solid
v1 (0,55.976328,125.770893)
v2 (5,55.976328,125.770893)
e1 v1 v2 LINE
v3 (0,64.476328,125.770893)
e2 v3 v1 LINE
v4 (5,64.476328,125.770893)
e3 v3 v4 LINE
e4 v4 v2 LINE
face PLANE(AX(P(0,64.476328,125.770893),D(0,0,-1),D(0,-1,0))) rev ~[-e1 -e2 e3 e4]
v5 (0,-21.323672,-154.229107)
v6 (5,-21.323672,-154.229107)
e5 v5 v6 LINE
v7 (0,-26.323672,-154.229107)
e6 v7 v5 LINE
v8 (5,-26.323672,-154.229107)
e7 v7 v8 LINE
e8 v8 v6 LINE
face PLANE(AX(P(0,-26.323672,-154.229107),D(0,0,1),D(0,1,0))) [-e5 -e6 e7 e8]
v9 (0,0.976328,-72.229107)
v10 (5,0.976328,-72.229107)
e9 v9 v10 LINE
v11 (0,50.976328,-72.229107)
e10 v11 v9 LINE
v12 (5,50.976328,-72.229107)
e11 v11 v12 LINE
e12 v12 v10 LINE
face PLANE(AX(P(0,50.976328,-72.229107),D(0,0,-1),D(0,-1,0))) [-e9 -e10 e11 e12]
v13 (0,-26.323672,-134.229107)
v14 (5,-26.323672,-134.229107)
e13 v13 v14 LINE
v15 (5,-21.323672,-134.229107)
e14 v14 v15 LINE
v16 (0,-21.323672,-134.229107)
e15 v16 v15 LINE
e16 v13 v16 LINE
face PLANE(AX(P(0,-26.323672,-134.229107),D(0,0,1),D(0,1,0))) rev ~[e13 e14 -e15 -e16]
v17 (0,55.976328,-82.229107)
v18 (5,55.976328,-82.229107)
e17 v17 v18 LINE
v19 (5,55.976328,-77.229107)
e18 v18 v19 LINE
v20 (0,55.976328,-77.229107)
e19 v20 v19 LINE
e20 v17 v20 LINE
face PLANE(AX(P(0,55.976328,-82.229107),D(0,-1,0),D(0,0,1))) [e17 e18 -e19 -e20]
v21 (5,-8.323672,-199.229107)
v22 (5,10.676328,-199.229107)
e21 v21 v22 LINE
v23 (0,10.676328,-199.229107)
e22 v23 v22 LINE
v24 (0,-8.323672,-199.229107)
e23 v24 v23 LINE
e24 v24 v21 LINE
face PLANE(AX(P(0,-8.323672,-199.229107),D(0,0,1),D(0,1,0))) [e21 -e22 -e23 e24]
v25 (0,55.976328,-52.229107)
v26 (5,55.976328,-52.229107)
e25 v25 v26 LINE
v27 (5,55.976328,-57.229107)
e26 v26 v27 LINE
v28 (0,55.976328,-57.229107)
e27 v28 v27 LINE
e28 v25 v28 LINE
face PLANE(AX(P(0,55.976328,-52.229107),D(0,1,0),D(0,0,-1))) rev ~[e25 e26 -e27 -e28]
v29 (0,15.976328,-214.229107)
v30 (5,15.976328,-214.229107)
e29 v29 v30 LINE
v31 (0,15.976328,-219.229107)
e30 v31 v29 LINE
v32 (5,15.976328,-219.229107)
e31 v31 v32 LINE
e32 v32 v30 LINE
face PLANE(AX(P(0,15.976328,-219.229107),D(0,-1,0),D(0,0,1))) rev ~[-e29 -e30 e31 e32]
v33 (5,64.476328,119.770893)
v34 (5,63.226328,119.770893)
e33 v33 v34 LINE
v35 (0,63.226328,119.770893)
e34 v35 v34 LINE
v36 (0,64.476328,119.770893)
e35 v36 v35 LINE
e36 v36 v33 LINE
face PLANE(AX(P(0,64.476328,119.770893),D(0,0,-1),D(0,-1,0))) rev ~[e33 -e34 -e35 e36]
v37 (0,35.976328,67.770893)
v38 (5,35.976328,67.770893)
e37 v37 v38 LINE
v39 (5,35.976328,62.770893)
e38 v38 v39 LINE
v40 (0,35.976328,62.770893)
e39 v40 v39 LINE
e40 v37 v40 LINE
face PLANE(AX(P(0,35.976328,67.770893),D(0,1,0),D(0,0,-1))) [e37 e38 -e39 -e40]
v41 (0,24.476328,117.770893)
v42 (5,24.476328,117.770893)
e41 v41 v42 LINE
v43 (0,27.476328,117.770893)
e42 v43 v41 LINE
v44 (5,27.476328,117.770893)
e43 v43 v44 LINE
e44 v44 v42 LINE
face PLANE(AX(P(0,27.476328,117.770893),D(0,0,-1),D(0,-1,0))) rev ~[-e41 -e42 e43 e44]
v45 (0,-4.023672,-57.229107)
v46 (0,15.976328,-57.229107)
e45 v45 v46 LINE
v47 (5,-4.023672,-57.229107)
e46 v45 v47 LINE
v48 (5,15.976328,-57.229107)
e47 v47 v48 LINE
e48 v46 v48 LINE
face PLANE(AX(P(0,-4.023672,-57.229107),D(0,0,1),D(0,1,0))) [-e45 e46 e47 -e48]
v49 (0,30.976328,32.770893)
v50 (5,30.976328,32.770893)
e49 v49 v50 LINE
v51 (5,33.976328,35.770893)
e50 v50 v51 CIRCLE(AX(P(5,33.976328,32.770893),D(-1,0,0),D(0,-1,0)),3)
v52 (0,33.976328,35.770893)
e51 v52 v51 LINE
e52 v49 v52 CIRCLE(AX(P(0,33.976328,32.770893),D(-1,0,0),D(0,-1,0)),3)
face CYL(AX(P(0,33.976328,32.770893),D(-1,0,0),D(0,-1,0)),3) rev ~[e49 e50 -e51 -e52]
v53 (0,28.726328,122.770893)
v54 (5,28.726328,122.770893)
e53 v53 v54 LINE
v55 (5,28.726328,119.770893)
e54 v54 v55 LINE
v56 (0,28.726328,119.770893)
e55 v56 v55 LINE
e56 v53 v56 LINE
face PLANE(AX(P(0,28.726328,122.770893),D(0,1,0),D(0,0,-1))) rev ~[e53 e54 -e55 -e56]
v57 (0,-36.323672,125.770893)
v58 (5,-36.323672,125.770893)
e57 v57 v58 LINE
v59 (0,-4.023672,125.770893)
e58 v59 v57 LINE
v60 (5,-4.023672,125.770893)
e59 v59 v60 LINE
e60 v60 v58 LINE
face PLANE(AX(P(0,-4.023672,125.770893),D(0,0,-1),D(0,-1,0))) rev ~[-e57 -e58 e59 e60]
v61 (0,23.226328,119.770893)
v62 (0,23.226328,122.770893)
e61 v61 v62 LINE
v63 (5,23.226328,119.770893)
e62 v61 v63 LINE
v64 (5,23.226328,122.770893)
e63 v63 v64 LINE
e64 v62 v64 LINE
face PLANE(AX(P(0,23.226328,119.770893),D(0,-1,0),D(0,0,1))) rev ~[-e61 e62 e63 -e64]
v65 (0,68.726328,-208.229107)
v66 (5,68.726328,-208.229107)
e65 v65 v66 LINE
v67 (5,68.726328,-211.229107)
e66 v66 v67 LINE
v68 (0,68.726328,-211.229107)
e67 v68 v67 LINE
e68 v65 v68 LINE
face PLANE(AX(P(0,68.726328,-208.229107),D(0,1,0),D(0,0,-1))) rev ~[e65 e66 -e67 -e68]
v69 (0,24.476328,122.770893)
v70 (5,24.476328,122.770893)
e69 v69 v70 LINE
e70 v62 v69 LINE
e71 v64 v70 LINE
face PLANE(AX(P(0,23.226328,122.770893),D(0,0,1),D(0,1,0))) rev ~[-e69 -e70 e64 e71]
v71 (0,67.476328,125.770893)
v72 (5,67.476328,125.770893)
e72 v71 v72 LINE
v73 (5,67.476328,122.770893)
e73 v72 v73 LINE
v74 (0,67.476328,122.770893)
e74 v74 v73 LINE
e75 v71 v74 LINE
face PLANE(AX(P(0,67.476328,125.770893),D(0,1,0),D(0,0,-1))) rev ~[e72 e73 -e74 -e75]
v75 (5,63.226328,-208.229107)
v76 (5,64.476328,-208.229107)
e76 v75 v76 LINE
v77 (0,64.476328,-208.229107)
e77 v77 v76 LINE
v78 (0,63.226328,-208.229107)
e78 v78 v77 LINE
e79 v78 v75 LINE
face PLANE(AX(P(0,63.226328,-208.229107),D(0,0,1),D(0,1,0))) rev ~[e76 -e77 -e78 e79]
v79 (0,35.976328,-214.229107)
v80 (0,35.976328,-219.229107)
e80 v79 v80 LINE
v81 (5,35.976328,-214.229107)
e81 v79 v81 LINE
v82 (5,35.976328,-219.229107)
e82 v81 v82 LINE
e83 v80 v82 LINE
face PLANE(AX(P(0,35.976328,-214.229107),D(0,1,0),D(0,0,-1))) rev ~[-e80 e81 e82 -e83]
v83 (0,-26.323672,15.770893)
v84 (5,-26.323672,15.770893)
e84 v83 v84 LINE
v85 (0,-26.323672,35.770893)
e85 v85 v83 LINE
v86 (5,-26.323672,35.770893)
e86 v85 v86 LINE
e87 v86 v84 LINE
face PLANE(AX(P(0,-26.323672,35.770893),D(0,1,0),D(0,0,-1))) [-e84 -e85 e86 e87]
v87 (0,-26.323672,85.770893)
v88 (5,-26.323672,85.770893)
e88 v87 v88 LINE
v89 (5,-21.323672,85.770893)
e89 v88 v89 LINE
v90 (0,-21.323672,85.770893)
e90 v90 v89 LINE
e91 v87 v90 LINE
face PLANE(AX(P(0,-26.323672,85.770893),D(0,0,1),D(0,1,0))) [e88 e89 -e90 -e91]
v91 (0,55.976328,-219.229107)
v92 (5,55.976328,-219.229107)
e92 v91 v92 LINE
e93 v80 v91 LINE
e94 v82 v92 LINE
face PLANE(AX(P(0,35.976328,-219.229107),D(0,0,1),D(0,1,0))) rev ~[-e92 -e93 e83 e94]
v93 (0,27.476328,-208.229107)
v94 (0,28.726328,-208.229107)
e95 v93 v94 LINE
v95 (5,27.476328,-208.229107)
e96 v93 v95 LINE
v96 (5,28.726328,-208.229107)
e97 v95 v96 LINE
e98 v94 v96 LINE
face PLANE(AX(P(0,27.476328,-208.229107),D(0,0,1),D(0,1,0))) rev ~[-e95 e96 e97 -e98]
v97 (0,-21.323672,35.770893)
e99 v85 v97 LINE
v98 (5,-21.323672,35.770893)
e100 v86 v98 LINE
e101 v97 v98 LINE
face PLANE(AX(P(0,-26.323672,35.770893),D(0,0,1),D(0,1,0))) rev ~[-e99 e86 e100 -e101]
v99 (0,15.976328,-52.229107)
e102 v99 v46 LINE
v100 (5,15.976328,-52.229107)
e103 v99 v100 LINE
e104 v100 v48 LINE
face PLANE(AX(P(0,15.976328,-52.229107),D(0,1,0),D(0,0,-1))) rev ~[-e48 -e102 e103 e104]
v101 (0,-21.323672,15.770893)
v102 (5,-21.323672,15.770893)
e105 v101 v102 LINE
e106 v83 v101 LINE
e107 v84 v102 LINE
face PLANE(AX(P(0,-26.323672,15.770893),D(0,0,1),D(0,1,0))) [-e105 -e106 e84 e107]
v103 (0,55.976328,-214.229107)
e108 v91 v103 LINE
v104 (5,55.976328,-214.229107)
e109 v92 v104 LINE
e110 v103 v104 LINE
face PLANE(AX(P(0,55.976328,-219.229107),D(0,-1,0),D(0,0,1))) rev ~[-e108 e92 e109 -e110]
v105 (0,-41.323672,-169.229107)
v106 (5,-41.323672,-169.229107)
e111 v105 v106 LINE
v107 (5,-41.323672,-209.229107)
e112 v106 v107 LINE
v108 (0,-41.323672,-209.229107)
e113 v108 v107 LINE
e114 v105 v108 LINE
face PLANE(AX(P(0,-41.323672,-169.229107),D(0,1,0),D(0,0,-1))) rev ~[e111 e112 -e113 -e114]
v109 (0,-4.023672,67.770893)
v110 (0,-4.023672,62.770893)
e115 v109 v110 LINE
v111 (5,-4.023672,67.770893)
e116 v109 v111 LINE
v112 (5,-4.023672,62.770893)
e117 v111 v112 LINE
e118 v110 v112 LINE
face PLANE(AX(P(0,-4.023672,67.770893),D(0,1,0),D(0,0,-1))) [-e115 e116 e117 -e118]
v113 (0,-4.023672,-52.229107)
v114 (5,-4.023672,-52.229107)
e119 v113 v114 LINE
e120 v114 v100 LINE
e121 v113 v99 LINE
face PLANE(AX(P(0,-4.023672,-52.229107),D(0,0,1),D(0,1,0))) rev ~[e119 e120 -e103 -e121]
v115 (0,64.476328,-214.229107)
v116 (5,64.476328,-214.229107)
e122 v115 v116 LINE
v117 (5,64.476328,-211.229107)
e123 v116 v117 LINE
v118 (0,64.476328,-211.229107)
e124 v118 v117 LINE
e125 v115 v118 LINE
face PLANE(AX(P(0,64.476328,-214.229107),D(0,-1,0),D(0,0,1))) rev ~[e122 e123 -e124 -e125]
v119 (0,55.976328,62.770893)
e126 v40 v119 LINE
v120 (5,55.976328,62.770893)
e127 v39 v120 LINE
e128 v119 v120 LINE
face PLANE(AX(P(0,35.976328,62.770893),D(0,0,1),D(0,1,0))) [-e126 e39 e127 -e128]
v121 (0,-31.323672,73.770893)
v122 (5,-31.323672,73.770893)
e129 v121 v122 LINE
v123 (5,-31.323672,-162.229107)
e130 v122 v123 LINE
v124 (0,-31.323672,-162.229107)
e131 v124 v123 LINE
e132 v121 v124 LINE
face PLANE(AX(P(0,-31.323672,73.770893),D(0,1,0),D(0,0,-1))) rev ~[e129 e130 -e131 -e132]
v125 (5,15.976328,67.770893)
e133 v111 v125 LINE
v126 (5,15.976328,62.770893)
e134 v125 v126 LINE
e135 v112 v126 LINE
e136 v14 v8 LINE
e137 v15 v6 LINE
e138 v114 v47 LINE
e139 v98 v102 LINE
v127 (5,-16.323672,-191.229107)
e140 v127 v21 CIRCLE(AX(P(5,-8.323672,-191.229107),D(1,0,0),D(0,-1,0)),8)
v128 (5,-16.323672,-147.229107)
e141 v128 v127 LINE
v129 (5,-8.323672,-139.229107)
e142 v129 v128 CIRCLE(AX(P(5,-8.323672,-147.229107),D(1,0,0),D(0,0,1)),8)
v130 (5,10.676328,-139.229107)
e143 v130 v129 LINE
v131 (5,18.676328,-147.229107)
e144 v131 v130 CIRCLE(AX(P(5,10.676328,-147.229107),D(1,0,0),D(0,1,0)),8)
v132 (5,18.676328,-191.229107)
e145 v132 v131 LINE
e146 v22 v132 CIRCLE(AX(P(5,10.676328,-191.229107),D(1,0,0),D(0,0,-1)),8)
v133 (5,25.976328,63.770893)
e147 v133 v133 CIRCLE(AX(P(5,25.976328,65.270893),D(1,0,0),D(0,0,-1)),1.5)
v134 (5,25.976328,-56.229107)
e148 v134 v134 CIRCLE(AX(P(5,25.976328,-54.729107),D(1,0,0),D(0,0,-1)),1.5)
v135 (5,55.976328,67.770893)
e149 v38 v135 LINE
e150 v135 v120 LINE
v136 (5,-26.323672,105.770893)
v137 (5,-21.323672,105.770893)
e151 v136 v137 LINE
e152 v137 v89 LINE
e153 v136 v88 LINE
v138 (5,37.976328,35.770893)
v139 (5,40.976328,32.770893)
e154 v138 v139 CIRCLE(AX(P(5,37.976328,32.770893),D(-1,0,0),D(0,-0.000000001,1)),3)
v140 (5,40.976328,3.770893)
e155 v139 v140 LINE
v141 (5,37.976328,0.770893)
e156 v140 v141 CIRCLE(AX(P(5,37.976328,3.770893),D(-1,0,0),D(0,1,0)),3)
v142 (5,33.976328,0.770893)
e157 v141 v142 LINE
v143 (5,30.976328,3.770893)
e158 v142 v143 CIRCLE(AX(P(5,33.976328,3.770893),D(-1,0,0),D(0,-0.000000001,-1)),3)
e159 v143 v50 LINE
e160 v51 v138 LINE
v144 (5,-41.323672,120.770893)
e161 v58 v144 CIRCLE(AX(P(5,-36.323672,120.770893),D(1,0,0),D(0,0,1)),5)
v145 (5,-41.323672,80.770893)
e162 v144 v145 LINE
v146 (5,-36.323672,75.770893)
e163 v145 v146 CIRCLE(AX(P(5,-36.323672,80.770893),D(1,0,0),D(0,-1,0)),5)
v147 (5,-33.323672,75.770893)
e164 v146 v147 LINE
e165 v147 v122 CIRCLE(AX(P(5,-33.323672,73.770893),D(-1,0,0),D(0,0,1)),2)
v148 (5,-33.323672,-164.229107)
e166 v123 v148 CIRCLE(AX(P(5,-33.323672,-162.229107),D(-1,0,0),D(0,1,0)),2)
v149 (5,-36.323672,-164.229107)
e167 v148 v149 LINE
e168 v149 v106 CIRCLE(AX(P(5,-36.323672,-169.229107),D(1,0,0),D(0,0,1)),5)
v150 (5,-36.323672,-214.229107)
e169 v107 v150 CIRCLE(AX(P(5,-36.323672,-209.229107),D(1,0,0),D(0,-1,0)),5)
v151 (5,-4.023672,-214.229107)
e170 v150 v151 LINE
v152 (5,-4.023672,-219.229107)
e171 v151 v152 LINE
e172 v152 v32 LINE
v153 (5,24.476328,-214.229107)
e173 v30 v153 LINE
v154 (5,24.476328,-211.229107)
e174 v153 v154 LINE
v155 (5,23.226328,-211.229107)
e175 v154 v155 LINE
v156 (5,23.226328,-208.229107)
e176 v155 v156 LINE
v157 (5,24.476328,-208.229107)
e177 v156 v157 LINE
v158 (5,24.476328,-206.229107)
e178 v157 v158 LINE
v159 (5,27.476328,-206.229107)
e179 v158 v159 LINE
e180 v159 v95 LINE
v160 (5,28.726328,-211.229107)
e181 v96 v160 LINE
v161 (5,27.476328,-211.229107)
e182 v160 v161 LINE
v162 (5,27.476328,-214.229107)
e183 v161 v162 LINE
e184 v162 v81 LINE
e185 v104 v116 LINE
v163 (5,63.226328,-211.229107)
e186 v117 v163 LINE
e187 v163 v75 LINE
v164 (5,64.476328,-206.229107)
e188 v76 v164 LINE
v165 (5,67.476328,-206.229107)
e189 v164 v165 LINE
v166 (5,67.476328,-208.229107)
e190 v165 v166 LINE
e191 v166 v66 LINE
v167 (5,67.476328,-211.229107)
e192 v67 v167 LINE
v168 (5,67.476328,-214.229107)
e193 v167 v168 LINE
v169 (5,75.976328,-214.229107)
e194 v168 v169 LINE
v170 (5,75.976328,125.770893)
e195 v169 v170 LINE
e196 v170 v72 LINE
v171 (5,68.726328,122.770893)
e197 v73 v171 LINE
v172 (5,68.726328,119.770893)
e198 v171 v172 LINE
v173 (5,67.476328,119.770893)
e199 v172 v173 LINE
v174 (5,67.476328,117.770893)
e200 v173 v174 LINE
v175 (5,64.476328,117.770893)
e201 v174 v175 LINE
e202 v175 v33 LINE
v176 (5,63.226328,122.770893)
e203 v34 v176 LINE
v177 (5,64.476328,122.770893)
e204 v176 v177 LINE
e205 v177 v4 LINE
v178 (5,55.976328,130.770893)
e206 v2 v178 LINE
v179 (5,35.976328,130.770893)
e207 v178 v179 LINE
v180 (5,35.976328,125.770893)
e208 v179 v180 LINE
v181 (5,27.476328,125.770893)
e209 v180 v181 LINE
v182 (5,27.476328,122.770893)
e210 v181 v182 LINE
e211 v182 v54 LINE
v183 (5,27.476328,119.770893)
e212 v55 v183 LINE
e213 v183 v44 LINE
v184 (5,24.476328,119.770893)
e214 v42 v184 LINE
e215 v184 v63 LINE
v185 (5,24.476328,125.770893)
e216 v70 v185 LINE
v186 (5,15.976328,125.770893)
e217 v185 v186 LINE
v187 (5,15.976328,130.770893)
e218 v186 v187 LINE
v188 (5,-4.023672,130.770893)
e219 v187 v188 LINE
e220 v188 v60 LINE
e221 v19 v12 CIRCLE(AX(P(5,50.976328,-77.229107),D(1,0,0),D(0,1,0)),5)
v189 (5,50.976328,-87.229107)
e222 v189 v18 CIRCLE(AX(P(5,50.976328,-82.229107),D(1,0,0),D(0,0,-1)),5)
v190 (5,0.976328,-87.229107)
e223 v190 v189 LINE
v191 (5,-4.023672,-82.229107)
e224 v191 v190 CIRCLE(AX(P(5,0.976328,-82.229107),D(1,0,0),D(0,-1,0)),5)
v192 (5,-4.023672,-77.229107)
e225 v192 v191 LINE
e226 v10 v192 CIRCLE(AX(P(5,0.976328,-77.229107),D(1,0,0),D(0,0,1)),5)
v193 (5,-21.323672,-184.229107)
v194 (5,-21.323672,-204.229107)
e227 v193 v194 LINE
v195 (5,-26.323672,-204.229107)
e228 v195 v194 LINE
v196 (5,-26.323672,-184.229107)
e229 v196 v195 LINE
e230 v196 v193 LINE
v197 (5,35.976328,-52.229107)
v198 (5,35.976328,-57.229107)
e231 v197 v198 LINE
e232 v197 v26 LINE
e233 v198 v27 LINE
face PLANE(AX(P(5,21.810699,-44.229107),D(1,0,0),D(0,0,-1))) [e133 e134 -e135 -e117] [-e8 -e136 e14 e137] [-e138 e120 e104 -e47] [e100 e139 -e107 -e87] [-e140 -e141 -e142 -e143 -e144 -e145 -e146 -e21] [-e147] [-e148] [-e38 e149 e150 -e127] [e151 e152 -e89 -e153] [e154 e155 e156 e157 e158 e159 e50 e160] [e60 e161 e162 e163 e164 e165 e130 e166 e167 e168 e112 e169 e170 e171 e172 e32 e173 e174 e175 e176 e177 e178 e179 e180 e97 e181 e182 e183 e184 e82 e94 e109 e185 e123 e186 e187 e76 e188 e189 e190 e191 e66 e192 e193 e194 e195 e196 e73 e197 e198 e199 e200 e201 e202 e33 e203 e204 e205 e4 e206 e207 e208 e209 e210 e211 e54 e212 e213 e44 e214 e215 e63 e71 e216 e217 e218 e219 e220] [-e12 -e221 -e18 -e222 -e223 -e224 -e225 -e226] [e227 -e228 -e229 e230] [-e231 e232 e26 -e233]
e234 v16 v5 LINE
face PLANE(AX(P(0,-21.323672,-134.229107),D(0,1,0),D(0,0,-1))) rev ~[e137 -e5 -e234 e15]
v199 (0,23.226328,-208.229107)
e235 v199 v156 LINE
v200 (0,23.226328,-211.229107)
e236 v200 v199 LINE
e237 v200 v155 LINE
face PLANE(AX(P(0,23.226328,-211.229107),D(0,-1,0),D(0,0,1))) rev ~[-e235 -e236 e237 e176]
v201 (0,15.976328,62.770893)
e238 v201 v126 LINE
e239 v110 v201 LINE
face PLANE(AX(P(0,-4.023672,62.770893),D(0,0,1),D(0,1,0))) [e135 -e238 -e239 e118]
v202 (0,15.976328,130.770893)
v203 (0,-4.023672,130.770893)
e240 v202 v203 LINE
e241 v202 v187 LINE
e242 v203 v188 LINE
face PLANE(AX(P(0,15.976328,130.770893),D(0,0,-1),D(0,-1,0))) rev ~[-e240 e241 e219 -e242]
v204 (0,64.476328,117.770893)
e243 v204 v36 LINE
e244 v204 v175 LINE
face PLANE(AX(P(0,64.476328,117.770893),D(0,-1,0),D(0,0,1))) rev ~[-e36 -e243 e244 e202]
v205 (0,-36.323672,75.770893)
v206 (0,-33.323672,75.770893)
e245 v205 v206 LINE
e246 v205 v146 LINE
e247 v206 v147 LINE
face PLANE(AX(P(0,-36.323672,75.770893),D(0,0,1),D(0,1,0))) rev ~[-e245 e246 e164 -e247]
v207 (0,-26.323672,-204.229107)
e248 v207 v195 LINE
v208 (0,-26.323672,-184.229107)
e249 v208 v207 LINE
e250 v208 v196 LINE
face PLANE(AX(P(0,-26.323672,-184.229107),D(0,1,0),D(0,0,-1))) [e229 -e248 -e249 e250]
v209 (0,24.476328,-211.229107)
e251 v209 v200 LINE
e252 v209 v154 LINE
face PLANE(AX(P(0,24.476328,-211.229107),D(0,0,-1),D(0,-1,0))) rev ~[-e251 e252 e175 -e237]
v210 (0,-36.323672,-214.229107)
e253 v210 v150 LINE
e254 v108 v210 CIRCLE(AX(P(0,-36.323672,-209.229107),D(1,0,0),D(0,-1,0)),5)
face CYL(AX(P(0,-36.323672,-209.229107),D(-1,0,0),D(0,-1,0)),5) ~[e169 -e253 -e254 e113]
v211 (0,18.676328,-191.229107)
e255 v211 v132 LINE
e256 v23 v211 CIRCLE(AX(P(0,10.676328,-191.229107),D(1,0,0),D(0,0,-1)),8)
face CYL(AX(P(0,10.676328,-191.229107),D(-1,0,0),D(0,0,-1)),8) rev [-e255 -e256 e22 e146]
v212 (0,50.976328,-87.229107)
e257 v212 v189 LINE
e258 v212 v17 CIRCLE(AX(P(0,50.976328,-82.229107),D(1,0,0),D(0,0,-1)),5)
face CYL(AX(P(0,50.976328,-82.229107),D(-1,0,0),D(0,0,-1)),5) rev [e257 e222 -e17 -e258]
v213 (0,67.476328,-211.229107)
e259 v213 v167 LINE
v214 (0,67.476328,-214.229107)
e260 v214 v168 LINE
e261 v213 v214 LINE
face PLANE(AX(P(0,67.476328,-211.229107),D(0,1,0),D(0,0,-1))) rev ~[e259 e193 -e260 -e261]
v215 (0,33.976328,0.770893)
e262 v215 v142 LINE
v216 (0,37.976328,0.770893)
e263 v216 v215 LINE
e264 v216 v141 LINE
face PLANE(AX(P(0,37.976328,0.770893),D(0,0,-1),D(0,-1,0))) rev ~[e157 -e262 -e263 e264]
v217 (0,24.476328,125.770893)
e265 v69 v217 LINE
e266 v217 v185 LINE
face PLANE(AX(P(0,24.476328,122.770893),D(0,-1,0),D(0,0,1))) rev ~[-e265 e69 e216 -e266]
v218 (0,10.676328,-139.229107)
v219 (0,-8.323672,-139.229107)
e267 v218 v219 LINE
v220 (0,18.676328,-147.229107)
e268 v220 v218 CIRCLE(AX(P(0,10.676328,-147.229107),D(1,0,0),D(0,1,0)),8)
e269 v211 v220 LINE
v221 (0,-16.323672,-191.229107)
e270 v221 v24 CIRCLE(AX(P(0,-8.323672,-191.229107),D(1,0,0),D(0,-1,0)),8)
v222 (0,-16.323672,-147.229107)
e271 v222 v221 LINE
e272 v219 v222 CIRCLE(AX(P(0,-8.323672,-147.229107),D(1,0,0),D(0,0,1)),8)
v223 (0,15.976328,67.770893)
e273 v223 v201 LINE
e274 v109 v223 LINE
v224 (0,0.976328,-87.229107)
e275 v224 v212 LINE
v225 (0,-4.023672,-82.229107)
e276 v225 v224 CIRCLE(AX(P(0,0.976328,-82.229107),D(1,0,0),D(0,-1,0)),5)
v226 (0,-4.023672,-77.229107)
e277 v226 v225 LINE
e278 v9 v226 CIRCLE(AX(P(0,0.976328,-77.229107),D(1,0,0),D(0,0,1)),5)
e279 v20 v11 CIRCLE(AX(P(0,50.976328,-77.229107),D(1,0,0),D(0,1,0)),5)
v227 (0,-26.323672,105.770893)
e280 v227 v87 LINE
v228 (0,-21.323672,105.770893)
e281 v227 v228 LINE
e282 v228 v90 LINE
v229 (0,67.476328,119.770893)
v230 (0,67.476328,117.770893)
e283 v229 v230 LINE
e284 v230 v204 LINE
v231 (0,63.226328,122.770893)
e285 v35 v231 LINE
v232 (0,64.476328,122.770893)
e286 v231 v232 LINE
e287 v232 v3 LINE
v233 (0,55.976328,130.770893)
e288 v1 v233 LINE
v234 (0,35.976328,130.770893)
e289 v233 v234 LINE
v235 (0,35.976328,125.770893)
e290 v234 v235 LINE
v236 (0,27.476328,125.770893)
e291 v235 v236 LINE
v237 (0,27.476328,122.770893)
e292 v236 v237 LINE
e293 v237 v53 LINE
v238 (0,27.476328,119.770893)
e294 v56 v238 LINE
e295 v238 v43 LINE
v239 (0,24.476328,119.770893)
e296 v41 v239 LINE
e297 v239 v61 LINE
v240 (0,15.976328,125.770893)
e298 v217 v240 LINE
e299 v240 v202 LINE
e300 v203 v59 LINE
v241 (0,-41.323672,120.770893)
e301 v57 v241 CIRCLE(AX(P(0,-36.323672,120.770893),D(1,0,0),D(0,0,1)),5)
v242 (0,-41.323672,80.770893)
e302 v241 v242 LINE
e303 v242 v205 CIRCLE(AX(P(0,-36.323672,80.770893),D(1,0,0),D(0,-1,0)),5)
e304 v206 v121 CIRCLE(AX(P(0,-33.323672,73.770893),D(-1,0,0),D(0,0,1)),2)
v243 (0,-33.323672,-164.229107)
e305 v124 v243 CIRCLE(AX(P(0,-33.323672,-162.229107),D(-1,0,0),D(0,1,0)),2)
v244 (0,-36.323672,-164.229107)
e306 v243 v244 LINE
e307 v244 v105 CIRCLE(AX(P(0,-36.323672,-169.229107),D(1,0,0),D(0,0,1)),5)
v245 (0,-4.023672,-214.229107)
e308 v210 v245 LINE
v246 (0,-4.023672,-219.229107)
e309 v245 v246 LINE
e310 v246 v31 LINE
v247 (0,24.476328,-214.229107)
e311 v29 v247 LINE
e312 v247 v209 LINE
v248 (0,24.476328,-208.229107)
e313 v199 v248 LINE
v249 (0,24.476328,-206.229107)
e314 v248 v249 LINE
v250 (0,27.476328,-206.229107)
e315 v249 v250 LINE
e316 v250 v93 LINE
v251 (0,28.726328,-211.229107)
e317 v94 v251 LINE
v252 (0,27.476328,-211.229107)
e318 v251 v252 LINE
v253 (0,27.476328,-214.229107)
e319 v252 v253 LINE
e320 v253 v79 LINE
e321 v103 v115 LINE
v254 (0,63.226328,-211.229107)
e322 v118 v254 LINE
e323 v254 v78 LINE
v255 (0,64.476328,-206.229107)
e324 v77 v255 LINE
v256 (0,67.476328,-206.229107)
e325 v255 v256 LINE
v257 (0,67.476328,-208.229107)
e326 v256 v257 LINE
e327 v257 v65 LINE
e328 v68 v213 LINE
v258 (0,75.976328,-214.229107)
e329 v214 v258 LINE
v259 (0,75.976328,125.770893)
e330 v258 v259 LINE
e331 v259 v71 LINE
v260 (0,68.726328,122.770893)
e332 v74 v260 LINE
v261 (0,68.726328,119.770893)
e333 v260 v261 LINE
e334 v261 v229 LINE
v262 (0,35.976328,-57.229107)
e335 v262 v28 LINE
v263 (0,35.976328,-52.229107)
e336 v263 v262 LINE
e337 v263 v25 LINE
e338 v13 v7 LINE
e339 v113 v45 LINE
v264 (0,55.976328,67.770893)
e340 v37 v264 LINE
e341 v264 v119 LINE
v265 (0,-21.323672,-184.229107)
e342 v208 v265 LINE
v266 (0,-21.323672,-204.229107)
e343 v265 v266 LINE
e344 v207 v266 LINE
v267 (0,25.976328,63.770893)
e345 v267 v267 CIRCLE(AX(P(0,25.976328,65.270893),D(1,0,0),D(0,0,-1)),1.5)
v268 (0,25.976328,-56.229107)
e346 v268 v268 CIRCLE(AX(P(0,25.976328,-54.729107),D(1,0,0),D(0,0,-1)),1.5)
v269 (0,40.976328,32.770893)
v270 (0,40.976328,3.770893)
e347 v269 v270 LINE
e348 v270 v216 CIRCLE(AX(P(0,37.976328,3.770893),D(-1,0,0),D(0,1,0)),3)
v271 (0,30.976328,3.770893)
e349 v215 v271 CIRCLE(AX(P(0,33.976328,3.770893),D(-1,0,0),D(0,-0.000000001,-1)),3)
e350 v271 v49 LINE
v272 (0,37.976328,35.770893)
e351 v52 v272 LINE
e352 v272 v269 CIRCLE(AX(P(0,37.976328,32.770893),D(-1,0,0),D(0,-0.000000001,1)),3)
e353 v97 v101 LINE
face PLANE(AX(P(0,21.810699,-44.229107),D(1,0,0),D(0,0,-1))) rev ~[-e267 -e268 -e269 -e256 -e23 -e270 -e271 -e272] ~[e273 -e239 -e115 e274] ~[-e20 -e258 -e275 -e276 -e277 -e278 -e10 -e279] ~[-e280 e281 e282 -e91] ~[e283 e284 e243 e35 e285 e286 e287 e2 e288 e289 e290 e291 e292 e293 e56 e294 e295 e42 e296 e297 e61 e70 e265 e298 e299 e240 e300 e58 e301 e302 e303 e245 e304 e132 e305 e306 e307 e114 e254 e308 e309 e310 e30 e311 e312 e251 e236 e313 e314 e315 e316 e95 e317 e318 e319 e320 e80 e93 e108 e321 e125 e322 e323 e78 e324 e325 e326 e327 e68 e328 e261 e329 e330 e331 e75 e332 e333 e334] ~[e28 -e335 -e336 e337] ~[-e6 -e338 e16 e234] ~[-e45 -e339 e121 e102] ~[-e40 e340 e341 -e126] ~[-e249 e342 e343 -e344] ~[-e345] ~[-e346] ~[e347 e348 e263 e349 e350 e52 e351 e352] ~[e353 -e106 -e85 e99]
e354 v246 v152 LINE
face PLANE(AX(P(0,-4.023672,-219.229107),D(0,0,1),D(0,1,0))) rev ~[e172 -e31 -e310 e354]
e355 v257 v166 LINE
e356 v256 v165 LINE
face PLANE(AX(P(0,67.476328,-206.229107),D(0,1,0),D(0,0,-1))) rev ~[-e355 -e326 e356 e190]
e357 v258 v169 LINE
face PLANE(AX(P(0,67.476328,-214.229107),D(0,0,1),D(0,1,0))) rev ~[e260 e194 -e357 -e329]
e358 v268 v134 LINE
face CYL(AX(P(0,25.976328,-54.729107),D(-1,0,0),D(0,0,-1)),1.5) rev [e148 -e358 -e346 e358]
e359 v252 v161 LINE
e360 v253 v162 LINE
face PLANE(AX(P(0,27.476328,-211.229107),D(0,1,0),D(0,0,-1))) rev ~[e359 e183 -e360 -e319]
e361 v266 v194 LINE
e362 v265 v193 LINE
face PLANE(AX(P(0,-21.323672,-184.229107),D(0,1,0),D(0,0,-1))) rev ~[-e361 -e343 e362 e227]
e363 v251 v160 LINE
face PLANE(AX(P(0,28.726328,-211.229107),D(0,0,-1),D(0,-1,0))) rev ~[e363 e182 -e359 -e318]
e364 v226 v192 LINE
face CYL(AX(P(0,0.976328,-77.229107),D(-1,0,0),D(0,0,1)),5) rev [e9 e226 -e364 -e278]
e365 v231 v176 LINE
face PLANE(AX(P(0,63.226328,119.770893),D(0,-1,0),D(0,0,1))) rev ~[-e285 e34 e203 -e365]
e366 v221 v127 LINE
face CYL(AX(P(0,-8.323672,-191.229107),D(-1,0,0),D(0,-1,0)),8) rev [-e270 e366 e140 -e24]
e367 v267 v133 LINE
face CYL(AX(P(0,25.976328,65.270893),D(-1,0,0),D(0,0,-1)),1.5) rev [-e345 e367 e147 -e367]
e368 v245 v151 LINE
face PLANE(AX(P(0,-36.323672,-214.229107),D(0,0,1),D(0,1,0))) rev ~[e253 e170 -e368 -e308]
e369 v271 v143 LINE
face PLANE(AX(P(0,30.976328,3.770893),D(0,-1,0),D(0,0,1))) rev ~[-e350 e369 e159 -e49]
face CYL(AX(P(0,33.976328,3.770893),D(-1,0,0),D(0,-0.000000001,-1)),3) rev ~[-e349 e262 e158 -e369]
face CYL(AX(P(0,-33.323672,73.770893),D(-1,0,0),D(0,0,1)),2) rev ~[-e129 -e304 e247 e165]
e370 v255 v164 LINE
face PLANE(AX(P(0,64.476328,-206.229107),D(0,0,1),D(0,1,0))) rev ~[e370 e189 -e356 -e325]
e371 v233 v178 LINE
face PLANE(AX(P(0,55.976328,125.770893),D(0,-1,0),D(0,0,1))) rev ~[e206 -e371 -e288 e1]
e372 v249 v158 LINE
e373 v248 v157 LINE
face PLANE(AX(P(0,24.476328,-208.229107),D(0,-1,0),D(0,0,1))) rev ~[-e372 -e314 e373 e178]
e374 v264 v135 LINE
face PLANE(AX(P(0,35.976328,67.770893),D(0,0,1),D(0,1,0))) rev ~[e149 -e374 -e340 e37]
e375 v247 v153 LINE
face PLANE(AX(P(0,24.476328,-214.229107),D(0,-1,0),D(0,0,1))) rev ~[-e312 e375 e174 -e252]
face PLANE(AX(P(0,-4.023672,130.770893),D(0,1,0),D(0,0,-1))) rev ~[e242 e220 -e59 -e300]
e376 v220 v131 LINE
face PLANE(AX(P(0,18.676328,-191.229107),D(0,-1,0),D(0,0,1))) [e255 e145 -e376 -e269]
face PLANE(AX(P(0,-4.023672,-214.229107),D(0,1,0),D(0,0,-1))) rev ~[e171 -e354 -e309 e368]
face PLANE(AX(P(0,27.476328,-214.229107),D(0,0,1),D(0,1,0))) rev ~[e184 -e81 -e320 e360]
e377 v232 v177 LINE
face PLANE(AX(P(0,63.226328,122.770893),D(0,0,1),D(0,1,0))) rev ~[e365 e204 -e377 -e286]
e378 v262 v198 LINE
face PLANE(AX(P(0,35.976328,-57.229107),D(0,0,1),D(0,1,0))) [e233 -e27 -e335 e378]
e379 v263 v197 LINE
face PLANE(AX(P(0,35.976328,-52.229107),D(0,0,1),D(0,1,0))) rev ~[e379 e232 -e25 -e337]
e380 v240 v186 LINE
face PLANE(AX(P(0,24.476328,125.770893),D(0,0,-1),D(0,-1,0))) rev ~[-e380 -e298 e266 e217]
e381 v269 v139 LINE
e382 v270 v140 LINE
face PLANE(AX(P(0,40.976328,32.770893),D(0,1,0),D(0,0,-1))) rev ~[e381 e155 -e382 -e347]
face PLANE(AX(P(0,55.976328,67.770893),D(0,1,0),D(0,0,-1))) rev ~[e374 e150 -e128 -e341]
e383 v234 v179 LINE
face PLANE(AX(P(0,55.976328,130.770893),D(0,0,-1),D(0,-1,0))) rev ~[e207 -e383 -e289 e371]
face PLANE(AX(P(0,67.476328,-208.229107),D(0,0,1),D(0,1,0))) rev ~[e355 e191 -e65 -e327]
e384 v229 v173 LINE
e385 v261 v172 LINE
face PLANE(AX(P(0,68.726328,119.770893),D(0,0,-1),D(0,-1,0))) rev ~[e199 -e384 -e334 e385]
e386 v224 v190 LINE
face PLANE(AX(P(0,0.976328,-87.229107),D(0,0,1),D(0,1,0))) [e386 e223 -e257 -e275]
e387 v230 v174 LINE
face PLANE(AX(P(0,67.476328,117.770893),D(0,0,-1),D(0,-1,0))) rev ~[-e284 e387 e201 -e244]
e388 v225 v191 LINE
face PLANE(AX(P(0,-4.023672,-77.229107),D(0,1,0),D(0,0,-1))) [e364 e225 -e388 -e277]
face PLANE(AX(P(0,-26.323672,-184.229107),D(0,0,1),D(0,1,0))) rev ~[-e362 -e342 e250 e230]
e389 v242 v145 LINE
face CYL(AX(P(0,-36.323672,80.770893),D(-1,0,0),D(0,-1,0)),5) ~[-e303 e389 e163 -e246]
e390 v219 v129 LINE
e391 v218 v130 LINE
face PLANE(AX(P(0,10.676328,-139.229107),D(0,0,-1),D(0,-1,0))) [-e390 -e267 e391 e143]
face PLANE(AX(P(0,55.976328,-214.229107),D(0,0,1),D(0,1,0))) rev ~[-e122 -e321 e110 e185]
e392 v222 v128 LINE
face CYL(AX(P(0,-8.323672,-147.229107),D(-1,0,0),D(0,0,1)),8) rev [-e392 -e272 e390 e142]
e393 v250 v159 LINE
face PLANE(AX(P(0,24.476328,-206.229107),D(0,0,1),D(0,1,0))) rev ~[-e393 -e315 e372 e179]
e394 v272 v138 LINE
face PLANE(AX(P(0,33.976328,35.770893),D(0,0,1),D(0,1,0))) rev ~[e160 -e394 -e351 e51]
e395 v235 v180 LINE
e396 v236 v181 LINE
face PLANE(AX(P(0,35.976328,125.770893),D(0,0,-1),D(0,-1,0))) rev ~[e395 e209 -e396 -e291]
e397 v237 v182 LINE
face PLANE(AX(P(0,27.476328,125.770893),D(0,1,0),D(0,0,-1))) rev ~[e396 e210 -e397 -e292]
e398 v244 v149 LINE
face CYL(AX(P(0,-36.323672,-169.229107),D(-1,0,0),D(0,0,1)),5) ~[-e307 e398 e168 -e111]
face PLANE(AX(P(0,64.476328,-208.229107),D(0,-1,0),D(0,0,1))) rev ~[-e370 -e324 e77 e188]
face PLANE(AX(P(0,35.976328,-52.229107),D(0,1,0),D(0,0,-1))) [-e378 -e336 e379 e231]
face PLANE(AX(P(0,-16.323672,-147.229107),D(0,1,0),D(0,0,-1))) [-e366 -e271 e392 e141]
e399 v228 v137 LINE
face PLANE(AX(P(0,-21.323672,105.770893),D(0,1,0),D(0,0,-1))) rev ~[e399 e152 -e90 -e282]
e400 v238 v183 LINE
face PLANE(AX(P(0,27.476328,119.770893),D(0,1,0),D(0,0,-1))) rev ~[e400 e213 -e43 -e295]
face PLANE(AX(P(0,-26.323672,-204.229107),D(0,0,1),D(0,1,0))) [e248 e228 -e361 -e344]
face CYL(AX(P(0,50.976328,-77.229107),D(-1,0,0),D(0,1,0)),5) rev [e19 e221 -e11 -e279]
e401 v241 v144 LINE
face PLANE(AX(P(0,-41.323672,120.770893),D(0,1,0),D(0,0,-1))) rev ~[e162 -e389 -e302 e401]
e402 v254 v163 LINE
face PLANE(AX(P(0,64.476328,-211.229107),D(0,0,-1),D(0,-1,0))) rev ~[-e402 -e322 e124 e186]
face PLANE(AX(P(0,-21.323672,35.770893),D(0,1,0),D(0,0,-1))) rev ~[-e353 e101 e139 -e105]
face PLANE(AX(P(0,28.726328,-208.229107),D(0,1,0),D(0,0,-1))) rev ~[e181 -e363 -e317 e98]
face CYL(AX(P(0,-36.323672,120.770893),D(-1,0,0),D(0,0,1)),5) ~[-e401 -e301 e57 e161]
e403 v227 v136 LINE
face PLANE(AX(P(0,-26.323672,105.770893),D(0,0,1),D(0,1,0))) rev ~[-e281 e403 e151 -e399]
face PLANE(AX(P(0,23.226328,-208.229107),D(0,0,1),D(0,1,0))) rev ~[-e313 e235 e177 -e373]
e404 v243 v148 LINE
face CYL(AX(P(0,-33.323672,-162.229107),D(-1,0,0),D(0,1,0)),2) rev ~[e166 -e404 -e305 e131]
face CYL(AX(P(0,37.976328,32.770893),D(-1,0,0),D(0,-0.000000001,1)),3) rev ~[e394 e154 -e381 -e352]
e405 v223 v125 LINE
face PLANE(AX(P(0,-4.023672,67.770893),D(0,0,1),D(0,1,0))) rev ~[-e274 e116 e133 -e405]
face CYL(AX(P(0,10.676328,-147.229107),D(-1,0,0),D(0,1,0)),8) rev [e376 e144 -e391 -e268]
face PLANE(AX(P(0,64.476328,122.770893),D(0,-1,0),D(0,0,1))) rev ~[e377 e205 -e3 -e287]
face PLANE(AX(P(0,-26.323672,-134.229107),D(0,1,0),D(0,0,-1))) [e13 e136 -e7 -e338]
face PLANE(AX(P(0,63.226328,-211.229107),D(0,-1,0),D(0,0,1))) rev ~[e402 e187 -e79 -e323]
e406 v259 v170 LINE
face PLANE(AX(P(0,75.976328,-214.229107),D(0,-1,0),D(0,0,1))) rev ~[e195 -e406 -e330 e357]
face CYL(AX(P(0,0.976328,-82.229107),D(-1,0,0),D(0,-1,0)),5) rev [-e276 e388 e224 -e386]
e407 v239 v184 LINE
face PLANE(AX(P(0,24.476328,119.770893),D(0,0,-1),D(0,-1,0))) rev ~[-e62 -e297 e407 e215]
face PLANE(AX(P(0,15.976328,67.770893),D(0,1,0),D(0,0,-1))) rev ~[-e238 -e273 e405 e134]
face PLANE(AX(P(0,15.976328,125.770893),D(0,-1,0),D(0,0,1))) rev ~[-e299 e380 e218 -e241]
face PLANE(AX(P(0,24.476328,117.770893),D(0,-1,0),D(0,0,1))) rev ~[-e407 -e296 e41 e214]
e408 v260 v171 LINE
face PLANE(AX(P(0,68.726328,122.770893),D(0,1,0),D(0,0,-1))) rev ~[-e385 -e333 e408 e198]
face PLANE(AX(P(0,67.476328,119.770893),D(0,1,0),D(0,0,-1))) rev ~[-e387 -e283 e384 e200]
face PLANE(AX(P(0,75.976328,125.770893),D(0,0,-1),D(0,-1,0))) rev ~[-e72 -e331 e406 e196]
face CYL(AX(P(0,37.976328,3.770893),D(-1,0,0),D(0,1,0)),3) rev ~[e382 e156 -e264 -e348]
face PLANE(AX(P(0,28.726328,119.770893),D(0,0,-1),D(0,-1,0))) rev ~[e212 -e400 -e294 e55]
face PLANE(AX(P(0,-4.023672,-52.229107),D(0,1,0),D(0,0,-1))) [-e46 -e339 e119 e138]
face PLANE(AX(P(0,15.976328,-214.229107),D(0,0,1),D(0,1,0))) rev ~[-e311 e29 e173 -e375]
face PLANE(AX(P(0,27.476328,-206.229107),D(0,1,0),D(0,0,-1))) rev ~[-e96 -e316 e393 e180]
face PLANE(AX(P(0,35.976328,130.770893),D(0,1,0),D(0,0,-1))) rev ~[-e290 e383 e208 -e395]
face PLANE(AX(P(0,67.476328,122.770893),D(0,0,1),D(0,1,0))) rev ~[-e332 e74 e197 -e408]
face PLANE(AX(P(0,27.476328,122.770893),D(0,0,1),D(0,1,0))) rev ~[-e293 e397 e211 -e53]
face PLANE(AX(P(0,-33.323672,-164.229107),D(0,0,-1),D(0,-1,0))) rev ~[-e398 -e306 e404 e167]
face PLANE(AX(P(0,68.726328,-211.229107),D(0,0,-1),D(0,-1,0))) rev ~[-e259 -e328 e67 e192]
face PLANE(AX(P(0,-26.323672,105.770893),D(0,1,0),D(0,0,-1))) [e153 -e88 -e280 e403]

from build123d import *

# Parameters (mm, degrees)
SKETCH_1_R      = 1.5
SKETCH_1_W      = 5
SKETCH_1_H      = 20
SKETCH_1_W_2    = 20
SKETCH_1_H_2    = 5
EXTRUDE_1_DEPTH = 5


with BuildPart() as part:
    # 草图1 → 凸台-拉伸1 (new body)
    with BuildSketch(Plane(origin=(0, 0, 0), x_dir=(0, 0, -1), z_dir=(1, 0, 0))):
        with BuildLine():
            Line((-75.770893239, -36.323671614), (-75.770893239, -33.323671614))
            ThreePointArc((-75.770893239, -33.323671614), (-75.185106801, -31.909458051), (-73.770893239, -31.323671614))
            Line((-73.770893239, -31.323671614), (162.229106761, -31.323671614))
            ThreePointArc((162.229106761, -31.323671614), (163.643320323, -31.909458051), (164.229106761, -33.323671614))
            Line((164.229106761, -33.323671614), (164.229106761, -36.323671614))
            ThreePointArc((164.229106761, -36.323671614), (165.693572855, -39.85920552), (169.229106761, -41.323671614))
            Line((169.229106761, -41.323671614), (209.229106761, -41.323671614))
            ThreePointArc((209.229106761, -41.323671614), (212.764640667, -39.85920552), (214.229106761, -36.323671614))
            Line((214.229106761, -36.323671614), (214.229106761, -4.023671614))
            Line((214.229106761, -4.023671614), (219.229106761, -4.023671614))
            Line((219.229106761, -4.023671614), (219.229106761, 15.976328386))
            Line((219.229106761, 15.976328386), (214.229106761, 15.976328386))
            Line((214.229106761, 15.976328386), (214.229106761, 24.476328386))
            Line((214.229106761, 24.476328386), (211.229106761, 24.476328386))
            Line((211.229106761, 24.476328386), (211.229106761, 23.226328386))
            Line((211.229106761, 23.226328386), (208.229106761, 23.226328386))
            Line((208.229106761, 23.226328386), (208.229106761, 24.476328386))
            Line((208.229106761, 24.476328386), (206.229106761, 24.476328386))
            Line((206.229106761, 24.476328386), (206.229106761, 27.476328386))
            Line((206.229106761, 27.476328386), (208.229106761, 27.476328386))
            Line((208.229106761, 27.476328386), (208.229106761, 28.726328386))
            Line((208.229106761, 28.726328386), (211.229106761, 28.726328386))
            Line((211.229106761, 28.726328386), (211.229106761, 27.476328386))
            Line((211.229106761, 27.476328386), (214.229106761, 27.476328386))
            Line((214.229106761, 27.476328386), (214.229106761, 35.976328386))
            Line((214.229106761, 35.976328386), (219.229106761, 35.976328386))
            Line((219.229106761, 35.976328386), (219.229106761, 55.976328386))
            Line((219.229106761, 55.976328386), (214.229106761, 55.976328386))
            Line((214.229106761, 55.976328386), (214.229106761, 64.476328386))
            Line((214.229106761, 64.476328386), (211.229106761, 64.476328386))
            Line((211.229106761, 64.476328386), (211.229106761, 63.226328386))
            Line((211.229106761, 63.226328386), (208.229106761, 63.226328386))
            Line((208.229106761, 63.226328386), (208.229106761, 64.476328386))
            Line((208.229106761, 64.476328386), (206.229106761, 64.476328386))
            Line((206.229106761, 64.476328386), (206.229106761, 67.476328386))
            Line((206.229106761, 67.476328386), (208.229106761, 67.476328386))
            Line((208.229106761, 67.476328386), (208.229106761, 68.726328386))
            Line((208.229106761, 68.726328386), (211.229106761, 68.726328386))
            Line((211.229106761, 68.726328386), (211.229106761, 67.476328386))
            Line((211.229106761, 67.476328386), (214.229106761, 67.476328386))
            Line((214.229106761, 67.476328386), (214.229106761, 75.976328386))
            Line((214.229106761, 75.976328386), (-125.770893239, 75.976328386))
            Line((-125.770893239, 75.976328386), (-125.770893239, 67.476328386))
            Line((-125.770893239, 67.476328386), (-122.770893239, 67.476328386))
            Line((-122.770893239, 67.476328386), (-122.770893239, 68.726328386))
            Line((-122.770893239, 68.726328386), (-119.770893239, 68.726328386))
            Line((-119.770893239, 68.726328386), (-119.770893239, 67.476328386))
            Line((-119.770893239, 67.476328386), (-117.770893239, 67.476328386))
            Line((-117.770893239, 67.476328386), (-117.770893239, 64.476328386))
            Line((-117.770893239, 64.476328386), (-119.770893239, 64.476328386))
            Line((-119.770893239, 64.476328386), (-119.770893239, 63.226328386))
            Line((-119.770893239, 63.226328386), (-122.770893239, 63.226328386))
            Line((-122.770893239, 63.226328386), (-122.770893239, 64.476328386))
            Line((-122.770893239, 64.476328386), (-125.770893239, 64.476328386))
            Line((-125.770893239, 64.476328386), (-125.770893239, 55.976328386))
            Line((-125.770893239, 55.976328386), (-130.770893239, 55.976328386))
            Line((-130.770893239, 55.976328386), (-130.770893239, 35.976328386))
            Line((-130.770893239, 35.976328386), (-125.770893239, 35.976328386))
            Line((-125.770893239, 35.976328386), (-125.770893239, 27.476328386))
            Line((-125.770893239, 27.476328386), (-122.770893239, 27.476328386))
            Line((-122.770893239, 27.476328386), (-122.770893239, 28.726328386))
            Line((-122.770893239, 28.726328386), (-119.770893239, 28.726328386))
            Line((-119.770893239, 28.726328386), (-119.770893239, 27.476328386))
            Line((-119.770893239, 27.476328386), (-117.770893239, 27.476328386))
            Line((-117.770893239, 27.476328386), (-117.770893239, 24.476328386))
            Line((-117.770893239, 24.476328386), (-119.770893239, 24.476328386))
            Line((-119.770893239, 24.476328386), (-119.770893239, 23.226328386))
            Line((-119.770893239, 23.226328386), (-122.770893239, 23.226328386))
            Line((-122.770893239, 23.226328386), (-122.770893239, 24.476328386))
            Line((-122.770893239, 24.476328386), (-125.770893239, 24.476328386))
            Line((-125.770893239, 24.476328386), (-125.770893239, 15.976328386))
            Line((-125.770893239, 15.976328386), (-130.770893239, 15.976328386))
            Line((-130.770893239, 15.976328386), (-130.770893239, -4.023671614))
            Line((-130.770893239, -4.023671614), (-125.770893239, -4.023671614))
            Line((-125.770893239, -4.023671614), (-125.770893239, -36.323671614))
            ThreePointArc((-125.770893239, -36.323671614), (-124.306427145, -39.85920552), (-120.770893239, -41.323671614))
            Line((-120.770893239, -41.323671614), (-80.770893239, -41.323671614))
            ThreePointArc((-80.770893239, -41.323671614), (-77.235359333, -39.85920552), (-75.770893239, -36.323671614))
        make_face()
        with Locations((54.729106761, 25.976328386)):
            Circle(SKETCH_1_R, mode=Mode.SUBTRACT)
        with Locations((-65.270893239, 25.976328386)):
            Circle(SKETCH_1_R, mode=Mode.SUBTRACT)
        with Locations((54.729106761, 45.976328386)):
            Rectangle(SKETCH_1_W, SKETCH_1_H, mode=Mode.SUBTRACT)
        with Locations((54.729106761, 5.976328386)):
            Rectangle(SKETCH_1_W, SKETCH_1_H, mode=Mode.SUBTRACT)
        with Locations((-65.270893239, 45.976328386)):
            Rectangle(SKETCH_1_W, SKETCH_1_H, mode=Mode.SUBTRACT)
        with Locations((-65.270893239, 5.976328386)):
            Rectangle(SKETCH_1_W, SKETCH_1_H, mode=Mode.SUBTRACT)
        with Locations((-25.770893239, -23.823671614)):
            Rectangle(SKETCH_1_W_2, SKETCH_1_H_2, mode=Mode.SUBTRACT)
        with Locations((-95.770893239, -23.823671614)):
            Rectangle(SKETCH_1_W_2, SKETCH_1_H_2, mode=Mode.SUBTRACT)
        with Locations((194.229106761, -23.823671614)):
            Rectangle(SKETCH_1_W_2, SKETCH_1_H_2, mode=Mode.SUBTRACT)
        with Locations((144.229106761, -23.823671614)):
            Rectangle(SKETCH_1_W_2, SKETCH_1_H_2, mode=Mode.SUBTRACT)
        with BuildLine():
            Line((191.229106761, 18.676328386), (147.229106761, 18.676328386))
            ThreePointArc((147.229106761, 18.676328386), (141.572252511, 16.333182636), (139.229106761, 10.676328386))
            Line((139.229106761, 10.676328386), (139.229106761, -8.323671614))
            ThreePointArc((139.229106761, -8.323671614), (141.572252511, -13.980525863), (147.229106761, -16.323671614))
            Line((147.229106761, -16.323671614), (191.229106761, -16.323671614))
            ThreePointArc((191.229106761, -16.323671614), (196.88596101, -13.980525863), (199.229106761, -8.323671614))
            Line((199.229106761, -8.323671614), (199.229106761, 10.676328386))
            ThreePointArc((199.229106761, 10.676328386), (196.88596101, 16.333182636), (191.229106761, 18.676328386))
        make_face(mode=Mode.SUBTRACT)
        with BuildLine():
            Line((82.229106761, 55.976328386), (77.229106761, 55.976328386))
            ThreePointArc((77.229106761, 55.976328386), (73.693572855, 54.511862292), (72.229106761, 50.976328386))
            Line((72.229106761, 50.976328386), (72.229106761, 0.976328386))
            ThreePointArc((72.229106761, 0.976328386), (73.693572855, -2.55920552), (77.229106761, -4.023671614))
            Line((77.229106761, -4.023671614), (82.229106761, -4.023671614))
            ThreePointArc((82.229106761, -4.023671614), (85.764640667, -2.55920552), (87.229106761, 0.976328386))
            Line((87.229106761, 0.976328386), (87.229106761, 50.976328386))
            ThreePointArc((87.229106761, 50.976328386), (85.764640667, 54.511862292), (82.229106761, 55.976328386))
        make_face(mode=Mode.SUBTRACT)
        with BuildLine():
            Line((-32.770893239, 40.976328386), (-3.770893239, 40.976328386))
            ThreePointArc((-3.770893239, 40.976328386), (-1.649572896, 40.09764873), (-0.770893239, 37.976328386))
            Line((-0.770893239, 37.976328386), (-0.770893239, 33.976328386))
            ThreePointArc((-0.770893239, 33.976328386), (-1.649572896, 31.855008043), (-3.770893239, 30.976328386))
            Line((-3.770893239, 30.976328386), (-32.770893239, 30.976328386))
            ThreePointArc((-32.770893239, 30.976328386), (-34.892213583, 31.855008043), (-35.770893239, 33.976328386))
            Line((-35.770893239, 33.976328386), (-35.770893239, 37.976328386))
            ThreePointArc((-35.770893239, 37.976328386), (-34.892213583, 40.09764873), (-32.770893239, 40.976328386))
        make_face(mode=Mode.SUBTRACT)
    extrude(amount=EXTRUDE_1_DEPTH)


solid = part.part
